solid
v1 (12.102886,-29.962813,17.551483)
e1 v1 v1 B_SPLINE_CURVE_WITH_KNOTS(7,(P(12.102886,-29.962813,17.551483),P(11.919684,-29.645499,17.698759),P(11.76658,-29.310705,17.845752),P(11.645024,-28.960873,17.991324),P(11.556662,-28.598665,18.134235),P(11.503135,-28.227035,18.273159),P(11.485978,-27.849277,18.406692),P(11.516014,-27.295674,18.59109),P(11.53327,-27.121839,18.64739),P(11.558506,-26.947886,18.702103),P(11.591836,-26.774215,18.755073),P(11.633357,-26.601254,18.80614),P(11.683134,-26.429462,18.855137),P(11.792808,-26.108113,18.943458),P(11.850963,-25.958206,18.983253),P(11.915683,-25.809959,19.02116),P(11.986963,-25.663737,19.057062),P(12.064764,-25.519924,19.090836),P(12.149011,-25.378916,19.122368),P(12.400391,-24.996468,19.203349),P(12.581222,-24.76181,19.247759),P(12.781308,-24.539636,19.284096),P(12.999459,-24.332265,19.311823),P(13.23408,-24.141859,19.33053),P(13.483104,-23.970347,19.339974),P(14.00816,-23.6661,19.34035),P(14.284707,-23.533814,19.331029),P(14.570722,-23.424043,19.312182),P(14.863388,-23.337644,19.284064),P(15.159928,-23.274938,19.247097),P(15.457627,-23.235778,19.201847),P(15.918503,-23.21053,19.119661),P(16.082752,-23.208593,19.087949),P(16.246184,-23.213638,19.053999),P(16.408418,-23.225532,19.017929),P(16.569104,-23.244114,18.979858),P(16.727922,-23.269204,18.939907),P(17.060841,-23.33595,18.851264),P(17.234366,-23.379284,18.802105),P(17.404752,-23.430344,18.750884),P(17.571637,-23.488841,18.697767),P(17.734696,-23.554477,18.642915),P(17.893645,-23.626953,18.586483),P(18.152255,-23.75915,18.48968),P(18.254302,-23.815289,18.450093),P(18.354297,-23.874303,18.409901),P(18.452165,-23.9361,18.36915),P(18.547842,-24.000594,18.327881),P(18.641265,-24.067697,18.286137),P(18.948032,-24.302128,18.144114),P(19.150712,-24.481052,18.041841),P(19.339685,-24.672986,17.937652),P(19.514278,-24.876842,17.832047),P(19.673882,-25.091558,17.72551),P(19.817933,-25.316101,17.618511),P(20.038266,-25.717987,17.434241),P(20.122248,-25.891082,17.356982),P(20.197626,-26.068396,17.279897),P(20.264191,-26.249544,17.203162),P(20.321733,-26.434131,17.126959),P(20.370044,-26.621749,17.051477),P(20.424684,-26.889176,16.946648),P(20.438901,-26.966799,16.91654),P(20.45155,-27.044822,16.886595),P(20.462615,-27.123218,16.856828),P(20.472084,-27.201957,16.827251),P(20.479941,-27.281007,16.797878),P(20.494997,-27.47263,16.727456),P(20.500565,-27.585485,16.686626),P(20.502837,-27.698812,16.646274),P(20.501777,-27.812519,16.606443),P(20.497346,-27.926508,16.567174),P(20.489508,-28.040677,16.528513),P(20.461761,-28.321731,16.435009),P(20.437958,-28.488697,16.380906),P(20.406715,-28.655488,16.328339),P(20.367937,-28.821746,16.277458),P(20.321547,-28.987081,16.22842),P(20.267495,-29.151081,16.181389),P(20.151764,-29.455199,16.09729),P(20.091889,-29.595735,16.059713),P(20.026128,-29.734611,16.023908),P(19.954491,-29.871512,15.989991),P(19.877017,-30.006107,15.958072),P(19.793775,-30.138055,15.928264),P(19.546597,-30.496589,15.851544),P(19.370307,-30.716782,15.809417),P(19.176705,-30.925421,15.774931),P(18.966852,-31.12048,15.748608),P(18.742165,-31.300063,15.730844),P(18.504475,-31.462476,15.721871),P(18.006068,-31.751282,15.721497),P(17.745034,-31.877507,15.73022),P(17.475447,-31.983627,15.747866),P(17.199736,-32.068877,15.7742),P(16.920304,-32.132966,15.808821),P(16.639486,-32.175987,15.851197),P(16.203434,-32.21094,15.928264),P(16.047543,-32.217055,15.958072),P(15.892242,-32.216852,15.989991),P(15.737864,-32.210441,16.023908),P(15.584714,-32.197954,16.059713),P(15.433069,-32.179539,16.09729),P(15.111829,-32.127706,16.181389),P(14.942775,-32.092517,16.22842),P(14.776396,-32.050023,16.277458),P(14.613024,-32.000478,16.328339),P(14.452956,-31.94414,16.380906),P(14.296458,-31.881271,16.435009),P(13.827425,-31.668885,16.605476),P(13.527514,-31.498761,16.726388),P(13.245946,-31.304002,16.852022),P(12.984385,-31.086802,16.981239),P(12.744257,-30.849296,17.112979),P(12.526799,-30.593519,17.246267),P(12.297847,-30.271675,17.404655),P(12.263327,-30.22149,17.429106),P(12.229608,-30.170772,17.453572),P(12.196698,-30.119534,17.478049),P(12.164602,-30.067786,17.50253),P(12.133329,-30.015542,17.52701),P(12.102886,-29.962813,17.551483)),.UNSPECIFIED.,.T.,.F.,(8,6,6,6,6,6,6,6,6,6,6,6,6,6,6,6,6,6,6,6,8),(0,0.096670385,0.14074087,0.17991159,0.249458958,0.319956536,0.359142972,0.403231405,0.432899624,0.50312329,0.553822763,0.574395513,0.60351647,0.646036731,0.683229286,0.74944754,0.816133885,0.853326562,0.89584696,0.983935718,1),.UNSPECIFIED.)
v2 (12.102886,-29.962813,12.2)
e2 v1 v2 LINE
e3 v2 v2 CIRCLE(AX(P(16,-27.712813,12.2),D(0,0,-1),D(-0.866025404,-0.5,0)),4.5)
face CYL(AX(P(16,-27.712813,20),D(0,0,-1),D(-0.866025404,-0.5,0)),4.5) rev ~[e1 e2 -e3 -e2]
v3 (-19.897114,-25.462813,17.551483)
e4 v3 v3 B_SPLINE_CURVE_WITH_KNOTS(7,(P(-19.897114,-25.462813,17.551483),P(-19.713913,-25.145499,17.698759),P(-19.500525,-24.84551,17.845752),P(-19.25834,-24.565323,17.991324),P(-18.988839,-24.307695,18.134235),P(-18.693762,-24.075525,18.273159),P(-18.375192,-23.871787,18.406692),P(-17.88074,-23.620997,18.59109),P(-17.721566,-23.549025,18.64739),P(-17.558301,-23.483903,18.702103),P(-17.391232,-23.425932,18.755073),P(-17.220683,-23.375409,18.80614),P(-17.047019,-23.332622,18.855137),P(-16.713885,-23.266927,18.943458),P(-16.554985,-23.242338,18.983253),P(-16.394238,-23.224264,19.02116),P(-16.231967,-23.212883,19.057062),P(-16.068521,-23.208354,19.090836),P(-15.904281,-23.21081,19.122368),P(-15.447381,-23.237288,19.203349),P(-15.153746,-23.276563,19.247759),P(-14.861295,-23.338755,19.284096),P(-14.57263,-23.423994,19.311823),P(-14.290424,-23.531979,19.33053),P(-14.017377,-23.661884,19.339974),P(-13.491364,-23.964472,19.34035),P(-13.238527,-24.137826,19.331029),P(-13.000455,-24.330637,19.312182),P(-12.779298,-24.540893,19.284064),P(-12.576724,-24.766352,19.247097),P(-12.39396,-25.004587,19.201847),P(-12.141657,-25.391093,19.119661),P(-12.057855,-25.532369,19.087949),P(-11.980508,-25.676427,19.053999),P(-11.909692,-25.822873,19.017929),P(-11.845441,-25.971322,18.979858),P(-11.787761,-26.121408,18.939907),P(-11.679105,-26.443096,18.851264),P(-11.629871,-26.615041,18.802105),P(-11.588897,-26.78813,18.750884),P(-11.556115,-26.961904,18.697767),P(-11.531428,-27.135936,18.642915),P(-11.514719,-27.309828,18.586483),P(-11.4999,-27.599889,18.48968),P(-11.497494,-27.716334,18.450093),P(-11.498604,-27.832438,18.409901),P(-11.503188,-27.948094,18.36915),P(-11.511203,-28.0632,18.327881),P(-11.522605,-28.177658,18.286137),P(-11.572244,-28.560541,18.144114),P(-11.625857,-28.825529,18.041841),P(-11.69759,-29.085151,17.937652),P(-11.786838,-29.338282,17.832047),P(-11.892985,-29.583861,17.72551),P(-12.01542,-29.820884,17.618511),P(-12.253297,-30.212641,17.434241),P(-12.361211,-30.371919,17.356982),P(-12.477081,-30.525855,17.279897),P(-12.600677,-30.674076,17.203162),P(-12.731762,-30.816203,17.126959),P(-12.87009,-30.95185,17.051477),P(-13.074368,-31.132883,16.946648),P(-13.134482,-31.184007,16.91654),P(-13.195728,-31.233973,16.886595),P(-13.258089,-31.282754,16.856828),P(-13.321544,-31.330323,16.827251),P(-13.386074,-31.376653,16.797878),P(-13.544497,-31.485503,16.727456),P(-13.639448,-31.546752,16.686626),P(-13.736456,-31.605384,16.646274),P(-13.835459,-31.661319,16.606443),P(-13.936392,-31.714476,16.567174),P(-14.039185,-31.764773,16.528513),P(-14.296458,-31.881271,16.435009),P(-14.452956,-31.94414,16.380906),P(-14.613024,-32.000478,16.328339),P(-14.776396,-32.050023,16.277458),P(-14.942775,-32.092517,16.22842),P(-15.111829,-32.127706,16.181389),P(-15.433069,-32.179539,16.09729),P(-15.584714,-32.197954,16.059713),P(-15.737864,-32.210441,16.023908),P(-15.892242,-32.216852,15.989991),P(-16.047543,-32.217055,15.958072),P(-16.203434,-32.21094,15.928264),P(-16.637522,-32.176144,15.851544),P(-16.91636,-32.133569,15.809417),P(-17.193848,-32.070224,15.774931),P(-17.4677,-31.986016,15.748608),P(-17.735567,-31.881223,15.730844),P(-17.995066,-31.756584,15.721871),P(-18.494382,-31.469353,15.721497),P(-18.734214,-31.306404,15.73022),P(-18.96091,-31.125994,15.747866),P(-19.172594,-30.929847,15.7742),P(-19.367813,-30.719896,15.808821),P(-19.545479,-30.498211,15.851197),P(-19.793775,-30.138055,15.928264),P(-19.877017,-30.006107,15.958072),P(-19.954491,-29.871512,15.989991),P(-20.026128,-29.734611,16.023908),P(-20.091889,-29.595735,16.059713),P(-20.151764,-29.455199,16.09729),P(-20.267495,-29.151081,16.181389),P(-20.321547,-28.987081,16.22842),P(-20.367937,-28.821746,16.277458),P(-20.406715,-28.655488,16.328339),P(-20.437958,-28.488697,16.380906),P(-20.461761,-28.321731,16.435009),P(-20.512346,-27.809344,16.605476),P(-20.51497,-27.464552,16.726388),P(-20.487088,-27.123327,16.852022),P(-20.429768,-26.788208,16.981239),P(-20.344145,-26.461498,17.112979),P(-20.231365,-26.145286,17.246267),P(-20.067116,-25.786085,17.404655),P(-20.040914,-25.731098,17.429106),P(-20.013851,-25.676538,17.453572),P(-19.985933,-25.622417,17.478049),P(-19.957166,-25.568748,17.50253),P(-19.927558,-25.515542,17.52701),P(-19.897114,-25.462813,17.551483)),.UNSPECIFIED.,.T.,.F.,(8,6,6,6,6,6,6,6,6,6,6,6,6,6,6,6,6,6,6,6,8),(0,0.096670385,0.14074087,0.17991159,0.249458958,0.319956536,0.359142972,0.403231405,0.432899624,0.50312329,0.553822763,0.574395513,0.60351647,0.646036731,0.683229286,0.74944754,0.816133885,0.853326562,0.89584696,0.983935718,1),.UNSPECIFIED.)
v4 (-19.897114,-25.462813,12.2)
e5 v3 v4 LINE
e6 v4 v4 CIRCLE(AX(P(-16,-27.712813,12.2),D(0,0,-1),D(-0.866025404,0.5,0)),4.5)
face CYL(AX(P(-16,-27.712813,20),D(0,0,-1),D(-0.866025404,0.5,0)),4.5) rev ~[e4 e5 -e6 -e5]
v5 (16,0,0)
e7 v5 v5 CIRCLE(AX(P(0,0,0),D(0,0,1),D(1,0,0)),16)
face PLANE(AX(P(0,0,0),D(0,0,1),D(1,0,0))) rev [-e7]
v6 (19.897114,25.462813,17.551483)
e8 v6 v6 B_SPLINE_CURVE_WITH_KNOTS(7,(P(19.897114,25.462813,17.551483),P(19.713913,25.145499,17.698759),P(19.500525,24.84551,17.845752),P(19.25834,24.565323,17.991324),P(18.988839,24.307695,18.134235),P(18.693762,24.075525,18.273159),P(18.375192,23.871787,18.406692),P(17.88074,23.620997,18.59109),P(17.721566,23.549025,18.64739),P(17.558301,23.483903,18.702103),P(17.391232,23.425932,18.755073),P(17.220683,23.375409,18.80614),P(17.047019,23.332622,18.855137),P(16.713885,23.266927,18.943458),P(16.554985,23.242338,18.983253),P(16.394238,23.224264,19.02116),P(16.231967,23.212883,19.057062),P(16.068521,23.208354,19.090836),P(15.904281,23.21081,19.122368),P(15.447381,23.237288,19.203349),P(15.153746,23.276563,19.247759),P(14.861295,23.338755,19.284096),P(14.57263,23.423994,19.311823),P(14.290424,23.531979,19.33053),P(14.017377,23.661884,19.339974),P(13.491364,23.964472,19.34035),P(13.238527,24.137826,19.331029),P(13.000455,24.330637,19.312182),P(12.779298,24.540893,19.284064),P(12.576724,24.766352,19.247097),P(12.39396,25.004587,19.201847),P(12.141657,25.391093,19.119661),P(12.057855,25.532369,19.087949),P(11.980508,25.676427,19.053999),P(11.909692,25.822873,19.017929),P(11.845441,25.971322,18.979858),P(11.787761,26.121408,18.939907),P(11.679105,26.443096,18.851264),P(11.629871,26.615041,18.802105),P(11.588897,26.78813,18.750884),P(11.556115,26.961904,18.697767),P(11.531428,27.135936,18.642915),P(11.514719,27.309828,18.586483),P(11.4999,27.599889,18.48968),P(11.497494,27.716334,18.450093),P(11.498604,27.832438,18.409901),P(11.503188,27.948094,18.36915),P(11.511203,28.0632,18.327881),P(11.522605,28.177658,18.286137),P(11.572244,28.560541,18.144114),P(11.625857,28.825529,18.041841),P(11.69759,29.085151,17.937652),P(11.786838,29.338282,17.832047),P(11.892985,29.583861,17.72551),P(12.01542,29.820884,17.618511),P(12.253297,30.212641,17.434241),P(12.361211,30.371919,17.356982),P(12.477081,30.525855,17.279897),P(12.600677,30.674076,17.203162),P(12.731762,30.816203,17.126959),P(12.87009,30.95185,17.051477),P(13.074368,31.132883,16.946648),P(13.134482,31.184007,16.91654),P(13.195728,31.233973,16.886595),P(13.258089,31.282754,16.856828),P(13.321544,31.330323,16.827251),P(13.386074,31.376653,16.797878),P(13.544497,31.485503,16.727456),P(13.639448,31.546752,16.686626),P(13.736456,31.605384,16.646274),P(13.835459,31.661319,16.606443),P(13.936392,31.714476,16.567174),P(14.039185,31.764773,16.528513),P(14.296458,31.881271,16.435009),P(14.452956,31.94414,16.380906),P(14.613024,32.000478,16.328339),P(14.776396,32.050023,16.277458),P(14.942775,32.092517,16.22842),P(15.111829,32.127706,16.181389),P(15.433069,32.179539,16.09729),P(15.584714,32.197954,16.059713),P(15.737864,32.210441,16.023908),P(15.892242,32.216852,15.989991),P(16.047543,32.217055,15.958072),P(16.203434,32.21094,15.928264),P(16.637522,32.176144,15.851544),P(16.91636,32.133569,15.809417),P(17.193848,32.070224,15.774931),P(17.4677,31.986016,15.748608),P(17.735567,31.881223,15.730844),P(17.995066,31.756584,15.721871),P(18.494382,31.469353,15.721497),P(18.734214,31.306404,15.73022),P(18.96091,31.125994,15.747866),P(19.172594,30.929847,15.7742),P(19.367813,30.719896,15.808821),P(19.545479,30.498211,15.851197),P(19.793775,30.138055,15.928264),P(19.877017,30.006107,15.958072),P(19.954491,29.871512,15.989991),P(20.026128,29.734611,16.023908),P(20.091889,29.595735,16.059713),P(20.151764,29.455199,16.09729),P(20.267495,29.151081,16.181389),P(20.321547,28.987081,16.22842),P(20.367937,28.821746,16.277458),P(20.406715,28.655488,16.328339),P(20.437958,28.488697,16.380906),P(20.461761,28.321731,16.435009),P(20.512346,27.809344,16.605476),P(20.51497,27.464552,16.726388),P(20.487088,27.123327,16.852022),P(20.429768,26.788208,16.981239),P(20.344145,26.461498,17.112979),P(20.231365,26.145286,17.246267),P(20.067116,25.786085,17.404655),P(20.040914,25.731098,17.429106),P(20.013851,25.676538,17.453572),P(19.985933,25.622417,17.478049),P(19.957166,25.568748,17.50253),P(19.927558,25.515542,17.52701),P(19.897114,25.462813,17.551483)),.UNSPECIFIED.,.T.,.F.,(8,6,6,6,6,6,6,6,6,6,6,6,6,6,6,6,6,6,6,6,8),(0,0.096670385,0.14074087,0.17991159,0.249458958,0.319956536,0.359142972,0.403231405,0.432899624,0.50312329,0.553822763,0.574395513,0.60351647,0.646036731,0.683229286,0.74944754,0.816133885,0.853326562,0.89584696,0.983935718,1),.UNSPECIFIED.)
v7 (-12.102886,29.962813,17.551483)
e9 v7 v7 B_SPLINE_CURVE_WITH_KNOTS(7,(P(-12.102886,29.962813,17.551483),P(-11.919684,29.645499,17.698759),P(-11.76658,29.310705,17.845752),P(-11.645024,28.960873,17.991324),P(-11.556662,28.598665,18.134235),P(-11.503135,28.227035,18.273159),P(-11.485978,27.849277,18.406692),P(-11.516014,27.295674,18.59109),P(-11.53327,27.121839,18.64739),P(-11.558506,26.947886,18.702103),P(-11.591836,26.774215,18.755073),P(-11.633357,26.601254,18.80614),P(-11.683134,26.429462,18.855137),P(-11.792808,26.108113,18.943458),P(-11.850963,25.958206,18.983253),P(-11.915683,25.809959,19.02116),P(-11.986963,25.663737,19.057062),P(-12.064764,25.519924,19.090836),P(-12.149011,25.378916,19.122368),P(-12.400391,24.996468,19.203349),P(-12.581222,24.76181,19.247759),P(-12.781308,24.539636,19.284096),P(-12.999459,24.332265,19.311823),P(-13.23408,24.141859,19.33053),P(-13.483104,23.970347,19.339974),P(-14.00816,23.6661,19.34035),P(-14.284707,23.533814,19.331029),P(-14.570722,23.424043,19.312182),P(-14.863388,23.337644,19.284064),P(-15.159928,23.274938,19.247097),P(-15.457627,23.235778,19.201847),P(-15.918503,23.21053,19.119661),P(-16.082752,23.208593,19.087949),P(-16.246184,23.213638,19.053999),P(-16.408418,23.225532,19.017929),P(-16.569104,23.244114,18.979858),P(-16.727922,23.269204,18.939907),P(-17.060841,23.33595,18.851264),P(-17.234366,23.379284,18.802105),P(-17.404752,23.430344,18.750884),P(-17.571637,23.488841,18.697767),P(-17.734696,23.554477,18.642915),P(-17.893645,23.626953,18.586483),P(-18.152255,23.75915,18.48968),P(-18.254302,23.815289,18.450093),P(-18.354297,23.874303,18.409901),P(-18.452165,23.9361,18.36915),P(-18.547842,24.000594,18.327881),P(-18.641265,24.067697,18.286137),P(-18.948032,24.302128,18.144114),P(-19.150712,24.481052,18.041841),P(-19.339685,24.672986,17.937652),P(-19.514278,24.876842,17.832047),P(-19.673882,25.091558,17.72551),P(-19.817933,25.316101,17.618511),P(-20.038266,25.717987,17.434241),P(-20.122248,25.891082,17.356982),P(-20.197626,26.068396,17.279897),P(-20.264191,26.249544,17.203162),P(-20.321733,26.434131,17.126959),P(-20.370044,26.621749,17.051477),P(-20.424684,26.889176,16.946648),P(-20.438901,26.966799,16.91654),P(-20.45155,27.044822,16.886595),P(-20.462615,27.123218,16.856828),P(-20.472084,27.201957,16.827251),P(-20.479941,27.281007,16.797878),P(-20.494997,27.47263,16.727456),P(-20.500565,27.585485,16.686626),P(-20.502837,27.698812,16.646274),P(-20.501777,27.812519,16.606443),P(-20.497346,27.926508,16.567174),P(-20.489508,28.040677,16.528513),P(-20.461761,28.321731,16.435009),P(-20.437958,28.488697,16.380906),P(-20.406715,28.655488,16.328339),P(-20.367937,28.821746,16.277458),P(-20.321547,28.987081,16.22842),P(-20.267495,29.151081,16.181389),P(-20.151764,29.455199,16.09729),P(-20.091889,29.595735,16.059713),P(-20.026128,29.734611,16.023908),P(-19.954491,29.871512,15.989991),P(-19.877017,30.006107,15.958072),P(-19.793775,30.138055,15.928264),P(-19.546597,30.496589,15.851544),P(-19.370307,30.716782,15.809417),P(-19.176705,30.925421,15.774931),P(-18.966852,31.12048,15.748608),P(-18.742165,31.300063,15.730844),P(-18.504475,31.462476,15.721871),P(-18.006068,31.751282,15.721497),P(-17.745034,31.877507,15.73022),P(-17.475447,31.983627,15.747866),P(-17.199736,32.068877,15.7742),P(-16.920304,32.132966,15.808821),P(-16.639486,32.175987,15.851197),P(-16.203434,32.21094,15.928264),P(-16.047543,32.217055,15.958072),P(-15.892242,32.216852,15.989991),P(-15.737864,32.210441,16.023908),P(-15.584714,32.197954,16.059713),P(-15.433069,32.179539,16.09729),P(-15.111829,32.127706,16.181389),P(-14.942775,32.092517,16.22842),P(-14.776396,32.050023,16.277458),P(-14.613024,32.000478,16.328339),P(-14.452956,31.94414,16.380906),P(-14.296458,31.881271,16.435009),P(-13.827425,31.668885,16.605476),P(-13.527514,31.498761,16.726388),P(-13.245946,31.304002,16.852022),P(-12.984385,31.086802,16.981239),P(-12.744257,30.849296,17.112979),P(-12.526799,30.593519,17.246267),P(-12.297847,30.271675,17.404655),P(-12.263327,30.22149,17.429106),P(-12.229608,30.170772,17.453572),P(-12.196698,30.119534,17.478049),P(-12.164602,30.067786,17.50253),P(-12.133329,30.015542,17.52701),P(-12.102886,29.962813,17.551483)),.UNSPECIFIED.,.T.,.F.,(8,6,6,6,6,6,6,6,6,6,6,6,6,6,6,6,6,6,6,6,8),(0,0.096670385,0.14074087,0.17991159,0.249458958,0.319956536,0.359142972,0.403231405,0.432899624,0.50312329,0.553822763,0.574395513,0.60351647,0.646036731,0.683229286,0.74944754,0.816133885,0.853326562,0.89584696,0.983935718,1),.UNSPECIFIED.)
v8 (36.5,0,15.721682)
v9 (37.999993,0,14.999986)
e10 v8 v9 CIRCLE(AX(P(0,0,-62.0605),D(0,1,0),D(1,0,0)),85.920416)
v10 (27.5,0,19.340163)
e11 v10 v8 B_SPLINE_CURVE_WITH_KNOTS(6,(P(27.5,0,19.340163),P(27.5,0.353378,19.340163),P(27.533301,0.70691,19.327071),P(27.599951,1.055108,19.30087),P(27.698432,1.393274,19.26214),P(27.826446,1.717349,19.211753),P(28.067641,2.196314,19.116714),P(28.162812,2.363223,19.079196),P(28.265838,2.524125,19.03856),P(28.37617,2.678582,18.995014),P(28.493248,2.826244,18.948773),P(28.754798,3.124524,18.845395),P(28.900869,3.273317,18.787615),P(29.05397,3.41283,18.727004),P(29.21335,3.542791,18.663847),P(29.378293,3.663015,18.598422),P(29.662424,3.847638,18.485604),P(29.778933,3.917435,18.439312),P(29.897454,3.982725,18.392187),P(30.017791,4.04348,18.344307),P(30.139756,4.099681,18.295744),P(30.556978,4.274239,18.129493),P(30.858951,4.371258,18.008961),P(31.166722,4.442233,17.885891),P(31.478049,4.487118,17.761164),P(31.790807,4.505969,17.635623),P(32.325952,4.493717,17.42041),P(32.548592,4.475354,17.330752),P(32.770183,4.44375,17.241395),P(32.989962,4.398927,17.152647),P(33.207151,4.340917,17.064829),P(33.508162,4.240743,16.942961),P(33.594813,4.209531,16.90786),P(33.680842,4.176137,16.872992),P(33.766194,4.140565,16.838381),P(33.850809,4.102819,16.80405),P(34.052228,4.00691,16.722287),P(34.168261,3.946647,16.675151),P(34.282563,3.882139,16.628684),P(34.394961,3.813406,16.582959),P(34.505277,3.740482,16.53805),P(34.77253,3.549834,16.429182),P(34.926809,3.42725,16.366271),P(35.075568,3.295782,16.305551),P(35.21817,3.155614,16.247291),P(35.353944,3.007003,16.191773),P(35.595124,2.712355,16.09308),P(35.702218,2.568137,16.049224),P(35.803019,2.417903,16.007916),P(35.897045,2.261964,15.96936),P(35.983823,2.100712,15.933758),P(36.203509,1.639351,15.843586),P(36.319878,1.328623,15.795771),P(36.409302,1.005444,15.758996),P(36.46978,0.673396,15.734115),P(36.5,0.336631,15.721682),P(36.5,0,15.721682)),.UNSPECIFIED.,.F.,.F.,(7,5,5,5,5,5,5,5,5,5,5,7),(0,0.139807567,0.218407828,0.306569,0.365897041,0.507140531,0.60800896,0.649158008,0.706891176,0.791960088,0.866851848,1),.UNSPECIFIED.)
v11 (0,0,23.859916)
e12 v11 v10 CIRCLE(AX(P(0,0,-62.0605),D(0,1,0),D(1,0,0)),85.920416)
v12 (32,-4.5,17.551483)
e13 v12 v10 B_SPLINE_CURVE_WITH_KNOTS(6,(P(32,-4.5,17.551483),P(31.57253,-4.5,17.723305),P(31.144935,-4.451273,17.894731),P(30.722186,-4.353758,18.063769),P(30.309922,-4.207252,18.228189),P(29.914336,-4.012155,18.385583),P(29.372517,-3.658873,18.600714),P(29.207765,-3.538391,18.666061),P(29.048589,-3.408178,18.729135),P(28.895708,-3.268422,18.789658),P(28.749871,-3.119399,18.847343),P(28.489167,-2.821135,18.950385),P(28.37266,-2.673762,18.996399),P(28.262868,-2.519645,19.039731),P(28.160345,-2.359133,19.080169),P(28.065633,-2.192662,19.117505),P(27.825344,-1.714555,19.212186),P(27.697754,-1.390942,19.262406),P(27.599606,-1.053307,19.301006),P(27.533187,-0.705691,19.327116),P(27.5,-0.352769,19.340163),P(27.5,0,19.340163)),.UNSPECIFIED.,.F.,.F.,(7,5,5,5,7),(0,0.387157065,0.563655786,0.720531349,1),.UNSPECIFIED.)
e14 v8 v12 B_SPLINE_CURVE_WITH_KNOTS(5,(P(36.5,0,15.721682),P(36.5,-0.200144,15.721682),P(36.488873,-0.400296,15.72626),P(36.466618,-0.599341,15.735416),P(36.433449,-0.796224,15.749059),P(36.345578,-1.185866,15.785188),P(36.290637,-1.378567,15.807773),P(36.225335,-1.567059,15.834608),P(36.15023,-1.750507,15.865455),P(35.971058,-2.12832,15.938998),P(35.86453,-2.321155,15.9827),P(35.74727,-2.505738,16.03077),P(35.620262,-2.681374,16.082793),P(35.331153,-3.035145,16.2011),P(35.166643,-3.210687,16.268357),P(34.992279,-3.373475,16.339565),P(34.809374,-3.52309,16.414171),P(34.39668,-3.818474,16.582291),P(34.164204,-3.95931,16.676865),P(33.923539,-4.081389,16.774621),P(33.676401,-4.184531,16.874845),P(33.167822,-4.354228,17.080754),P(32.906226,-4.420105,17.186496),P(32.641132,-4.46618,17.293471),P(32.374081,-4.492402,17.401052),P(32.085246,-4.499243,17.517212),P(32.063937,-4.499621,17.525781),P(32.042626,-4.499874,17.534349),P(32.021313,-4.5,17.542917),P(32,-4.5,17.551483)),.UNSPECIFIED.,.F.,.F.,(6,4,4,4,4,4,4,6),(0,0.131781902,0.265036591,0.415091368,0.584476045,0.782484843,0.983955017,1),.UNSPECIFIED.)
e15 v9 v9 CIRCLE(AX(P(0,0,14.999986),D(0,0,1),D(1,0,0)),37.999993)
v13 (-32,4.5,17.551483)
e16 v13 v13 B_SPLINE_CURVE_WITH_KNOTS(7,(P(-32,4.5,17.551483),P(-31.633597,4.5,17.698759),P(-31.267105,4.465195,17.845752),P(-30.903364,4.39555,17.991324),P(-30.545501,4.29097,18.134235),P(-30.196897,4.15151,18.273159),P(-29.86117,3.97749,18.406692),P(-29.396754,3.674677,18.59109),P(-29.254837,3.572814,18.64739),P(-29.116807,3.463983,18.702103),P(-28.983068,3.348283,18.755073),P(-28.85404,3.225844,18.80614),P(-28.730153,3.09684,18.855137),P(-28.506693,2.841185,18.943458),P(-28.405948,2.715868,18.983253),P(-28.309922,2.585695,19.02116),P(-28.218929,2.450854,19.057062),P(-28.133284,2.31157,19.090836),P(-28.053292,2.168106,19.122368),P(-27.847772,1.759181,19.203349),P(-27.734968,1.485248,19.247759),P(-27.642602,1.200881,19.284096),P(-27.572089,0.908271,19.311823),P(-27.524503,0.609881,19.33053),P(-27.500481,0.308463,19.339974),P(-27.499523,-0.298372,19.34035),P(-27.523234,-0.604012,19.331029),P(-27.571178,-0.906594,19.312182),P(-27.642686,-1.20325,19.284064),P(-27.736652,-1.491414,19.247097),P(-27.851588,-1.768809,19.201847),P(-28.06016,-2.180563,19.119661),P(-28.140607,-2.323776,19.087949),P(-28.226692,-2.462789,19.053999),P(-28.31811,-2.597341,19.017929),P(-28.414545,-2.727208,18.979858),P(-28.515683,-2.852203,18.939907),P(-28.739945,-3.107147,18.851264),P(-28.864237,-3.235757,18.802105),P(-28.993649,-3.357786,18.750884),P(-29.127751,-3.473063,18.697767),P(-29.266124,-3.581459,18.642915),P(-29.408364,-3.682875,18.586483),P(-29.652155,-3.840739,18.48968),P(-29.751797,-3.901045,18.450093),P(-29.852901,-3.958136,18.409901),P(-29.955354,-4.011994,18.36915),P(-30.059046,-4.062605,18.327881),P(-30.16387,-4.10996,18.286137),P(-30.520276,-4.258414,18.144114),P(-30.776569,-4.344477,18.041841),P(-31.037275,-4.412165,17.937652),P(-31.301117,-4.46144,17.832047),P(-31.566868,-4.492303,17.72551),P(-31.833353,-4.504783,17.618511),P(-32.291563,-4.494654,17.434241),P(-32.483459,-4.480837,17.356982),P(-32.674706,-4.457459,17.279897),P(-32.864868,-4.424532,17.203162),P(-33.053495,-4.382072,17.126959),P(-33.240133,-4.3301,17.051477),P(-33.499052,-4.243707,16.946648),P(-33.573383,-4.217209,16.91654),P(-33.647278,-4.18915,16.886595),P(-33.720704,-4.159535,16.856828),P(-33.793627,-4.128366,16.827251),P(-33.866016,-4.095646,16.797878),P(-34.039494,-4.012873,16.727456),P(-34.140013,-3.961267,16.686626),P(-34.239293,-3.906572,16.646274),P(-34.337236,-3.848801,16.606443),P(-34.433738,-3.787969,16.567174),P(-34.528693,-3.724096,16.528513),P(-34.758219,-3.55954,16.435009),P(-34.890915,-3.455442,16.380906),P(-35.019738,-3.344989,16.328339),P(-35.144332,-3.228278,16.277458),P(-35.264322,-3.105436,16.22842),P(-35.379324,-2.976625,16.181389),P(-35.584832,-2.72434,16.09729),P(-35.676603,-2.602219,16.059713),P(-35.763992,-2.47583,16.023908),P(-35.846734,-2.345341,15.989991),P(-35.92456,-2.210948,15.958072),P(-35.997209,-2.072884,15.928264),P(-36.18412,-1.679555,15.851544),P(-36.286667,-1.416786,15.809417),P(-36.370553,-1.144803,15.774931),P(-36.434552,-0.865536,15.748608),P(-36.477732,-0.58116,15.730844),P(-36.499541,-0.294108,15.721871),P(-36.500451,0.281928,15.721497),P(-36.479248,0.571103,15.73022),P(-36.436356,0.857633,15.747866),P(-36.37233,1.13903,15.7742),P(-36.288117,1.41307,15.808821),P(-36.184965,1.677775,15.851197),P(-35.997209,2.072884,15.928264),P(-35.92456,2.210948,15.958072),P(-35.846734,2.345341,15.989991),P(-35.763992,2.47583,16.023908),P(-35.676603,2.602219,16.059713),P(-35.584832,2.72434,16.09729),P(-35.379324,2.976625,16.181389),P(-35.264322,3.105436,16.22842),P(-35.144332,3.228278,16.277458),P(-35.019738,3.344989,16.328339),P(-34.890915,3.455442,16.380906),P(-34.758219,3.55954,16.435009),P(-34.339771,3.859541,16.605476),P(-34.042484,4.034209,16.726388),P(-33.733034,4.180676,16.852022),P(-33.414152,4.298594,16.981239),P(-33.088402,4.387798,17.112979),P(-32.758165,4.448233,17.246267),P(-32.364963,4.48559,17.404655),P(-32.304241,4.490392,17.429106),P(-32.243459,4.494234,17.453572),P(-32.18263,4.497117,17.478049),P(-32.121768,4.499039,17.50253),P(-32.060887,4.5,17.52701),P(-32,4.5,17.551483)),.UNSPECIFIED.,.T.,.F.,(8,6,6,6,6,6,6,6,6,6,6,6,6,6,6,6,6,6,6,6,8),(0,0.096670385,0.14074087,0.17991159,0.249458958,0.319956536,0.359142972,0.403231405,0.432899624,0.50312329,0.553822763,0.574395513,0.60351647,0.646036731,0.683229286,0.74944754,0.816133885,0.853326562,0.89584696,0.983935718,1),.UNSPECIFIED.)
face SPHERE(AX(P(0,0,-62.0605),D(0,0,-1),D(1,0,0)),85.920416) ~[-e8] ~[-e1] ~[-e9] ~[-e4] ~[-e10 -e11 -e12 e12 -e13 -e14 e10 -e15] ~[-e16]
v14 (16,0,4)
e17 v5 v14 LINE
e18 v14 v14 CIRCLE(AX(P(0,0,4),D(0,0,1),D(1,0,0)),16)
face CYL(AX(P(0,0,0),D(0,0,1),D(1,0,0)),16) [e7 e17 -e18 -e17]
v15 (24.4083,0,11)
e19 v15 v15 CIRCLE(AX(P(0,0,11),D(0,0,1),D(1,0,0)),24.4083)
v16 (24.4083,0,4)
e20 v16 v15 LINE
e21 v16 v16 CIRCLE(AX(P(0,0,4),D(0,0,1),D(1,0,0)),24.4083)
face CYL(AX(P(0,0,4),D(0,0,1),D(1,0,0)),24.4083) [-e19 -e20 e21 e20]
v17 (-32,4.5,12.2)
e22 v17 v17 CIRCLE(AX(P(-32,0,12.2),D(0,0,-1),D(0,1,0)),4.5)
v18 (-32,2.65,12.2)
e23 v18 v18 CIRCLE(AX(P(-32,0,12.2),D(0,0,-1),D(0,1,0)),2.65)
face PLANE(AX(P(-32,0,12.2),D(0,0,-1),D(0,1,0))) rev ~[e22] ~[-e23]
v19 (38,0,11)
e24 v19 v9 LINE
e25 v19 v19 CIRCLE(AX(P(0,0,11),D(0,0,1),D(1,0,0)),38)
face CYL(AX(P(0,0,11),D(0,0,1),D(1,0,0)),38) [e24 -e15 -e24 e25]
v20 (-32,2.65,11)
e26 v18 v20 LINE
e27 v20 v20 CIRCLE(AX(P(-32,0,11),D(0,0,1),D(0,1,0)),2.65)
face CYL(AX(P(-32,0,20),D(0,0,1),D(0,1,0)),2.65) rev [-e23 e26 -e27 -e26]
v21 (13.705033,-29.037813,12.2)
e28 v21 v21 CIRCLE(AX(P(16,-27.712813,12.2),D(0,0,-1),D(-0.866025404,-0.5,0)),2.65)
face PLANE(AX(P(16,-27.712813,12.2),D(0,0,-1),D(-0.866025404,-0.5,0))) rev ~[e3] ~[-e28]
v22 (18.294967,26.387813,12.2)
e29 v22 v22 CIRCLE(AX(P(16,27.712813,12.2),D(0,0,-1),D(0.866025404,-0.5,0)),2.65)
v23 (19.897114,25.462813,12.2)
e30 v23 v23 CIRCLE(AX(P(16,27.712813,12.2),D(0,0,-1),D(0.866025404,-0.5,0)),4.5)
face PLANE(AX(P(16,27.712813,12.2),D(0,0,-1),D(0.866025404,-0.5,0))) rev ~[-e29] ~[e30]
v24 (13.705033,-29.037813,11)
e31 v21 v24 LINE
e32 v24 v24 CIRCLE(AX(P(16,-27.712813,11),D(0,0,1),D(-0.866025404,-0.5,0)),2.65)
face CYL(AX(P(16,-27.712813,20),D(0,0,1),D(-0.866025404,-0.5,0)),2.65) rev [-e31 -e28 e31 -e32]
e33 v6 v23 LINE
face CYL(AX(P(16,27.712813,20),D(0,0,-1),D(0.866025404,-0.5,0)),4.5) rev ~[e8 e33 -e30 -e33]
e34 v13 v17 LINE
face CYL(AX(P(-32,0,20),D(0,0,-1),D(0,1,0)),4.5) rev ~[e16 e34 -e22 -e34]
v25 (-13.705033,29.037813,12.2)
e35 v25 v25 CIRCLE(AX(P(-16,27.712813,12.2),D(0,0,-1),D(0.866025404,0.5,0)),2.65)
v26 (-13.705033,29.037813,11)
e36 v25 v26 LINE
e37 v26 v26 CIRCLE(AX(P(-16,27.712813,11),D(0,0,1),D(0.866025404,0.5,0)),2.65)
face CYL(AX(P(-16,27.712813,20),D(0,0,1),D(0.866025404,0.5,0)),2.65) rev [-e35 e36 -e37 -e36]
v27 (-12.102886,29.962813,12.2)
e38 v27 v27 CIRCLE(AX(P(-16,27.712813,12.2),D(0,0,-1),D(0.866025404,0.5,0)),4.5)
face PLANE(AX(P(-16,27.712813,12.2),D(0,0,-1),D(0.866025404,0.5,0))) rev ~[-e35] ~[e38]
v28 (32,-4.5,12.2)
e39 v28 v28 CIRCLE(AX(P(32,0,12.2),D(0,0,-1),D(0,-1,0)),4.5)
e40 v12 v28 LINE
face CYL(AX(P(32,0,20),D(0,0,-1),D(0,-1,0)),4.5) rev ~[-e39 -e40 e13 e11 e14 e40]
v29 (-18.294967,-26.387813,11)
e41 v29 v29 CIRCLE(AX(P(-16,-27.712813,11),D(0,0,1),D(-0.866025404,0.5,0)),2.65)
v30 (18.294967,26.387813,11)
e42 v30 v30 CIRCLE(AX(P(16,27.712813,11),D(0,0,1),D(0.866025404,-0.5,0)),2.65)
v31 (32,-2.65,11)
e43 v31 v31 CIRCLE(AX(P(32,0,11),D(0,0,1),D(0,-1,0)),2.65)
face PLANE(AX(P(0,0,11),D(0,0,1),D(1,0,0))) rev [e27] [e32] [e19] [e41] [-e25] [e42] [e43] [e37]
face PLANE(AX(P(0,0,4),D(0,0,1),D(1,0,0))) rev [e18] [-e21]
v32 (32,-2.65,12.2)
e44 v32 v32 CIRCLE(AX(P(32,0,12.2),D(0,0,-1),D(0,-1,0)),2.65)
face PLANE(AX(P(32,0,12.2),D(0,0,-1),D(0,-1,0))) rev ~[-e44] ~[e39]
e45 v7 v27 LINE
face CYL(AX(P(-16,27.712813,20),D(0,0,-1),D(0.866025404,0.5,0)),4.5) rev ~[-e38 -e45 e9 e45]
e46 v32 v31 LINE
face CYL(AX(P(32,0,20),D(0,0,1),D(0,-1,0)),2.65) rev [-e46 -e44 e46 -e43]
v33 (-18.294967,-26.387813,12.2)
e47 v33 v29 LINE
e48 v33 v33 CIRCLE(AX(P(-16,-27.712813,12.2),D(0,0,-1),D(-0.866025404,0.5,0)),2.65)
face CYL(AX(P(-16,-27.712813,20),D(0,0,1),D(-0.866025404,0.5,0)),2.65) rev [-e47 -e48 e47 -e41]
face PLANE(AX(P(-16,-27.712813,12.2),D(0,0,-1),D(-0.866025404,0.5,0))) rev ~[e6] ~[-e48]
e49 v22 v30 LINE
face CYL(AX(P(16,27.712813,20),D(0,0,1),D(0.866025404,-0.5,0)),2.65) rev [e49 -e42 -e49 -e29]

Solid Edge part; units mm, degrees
sketch "Sketch1" plane through (0, 0, 0) normal (0, -1, 0) x (1, 0, 0)
  line L0 (0, 0) -> (16, 0)
  line L1 (16, 0) -> (16, 4)
  line L2 (16, 4) -> (24.4083, 4)
  line L3 (24.4083, 4) -> (24.4083, 11)
  line L4 (24.4083, 11) -> (38, 11)
  line L5 (38, 11) -> (38, 15)
  arc A0 (0, 23.8599) -> (38, 15) centre (0, -62.0605) cw
  dimension "D1" = 85.9204
  dimension "D2" = 4
  dimension "D3" = 7
  dimension "D4" = 15
revolve "RevolvedProtrusion1" add sketch "Sketch1" angle 360 about axis through (0, 0, 0) along (0, 0, 1)
hole "Hole_1" at (32, 0, 20) direction (0, 0, -1) diameter 5.3 end up to next counterbore diameter 9 counterbore depth 7.8
pattern_circular "Pattern1" count 6 over 360 about axis through (0, 0, 0) along (0, 0, -1) of "Hole_1"
properties material "Bronze, 90%"
